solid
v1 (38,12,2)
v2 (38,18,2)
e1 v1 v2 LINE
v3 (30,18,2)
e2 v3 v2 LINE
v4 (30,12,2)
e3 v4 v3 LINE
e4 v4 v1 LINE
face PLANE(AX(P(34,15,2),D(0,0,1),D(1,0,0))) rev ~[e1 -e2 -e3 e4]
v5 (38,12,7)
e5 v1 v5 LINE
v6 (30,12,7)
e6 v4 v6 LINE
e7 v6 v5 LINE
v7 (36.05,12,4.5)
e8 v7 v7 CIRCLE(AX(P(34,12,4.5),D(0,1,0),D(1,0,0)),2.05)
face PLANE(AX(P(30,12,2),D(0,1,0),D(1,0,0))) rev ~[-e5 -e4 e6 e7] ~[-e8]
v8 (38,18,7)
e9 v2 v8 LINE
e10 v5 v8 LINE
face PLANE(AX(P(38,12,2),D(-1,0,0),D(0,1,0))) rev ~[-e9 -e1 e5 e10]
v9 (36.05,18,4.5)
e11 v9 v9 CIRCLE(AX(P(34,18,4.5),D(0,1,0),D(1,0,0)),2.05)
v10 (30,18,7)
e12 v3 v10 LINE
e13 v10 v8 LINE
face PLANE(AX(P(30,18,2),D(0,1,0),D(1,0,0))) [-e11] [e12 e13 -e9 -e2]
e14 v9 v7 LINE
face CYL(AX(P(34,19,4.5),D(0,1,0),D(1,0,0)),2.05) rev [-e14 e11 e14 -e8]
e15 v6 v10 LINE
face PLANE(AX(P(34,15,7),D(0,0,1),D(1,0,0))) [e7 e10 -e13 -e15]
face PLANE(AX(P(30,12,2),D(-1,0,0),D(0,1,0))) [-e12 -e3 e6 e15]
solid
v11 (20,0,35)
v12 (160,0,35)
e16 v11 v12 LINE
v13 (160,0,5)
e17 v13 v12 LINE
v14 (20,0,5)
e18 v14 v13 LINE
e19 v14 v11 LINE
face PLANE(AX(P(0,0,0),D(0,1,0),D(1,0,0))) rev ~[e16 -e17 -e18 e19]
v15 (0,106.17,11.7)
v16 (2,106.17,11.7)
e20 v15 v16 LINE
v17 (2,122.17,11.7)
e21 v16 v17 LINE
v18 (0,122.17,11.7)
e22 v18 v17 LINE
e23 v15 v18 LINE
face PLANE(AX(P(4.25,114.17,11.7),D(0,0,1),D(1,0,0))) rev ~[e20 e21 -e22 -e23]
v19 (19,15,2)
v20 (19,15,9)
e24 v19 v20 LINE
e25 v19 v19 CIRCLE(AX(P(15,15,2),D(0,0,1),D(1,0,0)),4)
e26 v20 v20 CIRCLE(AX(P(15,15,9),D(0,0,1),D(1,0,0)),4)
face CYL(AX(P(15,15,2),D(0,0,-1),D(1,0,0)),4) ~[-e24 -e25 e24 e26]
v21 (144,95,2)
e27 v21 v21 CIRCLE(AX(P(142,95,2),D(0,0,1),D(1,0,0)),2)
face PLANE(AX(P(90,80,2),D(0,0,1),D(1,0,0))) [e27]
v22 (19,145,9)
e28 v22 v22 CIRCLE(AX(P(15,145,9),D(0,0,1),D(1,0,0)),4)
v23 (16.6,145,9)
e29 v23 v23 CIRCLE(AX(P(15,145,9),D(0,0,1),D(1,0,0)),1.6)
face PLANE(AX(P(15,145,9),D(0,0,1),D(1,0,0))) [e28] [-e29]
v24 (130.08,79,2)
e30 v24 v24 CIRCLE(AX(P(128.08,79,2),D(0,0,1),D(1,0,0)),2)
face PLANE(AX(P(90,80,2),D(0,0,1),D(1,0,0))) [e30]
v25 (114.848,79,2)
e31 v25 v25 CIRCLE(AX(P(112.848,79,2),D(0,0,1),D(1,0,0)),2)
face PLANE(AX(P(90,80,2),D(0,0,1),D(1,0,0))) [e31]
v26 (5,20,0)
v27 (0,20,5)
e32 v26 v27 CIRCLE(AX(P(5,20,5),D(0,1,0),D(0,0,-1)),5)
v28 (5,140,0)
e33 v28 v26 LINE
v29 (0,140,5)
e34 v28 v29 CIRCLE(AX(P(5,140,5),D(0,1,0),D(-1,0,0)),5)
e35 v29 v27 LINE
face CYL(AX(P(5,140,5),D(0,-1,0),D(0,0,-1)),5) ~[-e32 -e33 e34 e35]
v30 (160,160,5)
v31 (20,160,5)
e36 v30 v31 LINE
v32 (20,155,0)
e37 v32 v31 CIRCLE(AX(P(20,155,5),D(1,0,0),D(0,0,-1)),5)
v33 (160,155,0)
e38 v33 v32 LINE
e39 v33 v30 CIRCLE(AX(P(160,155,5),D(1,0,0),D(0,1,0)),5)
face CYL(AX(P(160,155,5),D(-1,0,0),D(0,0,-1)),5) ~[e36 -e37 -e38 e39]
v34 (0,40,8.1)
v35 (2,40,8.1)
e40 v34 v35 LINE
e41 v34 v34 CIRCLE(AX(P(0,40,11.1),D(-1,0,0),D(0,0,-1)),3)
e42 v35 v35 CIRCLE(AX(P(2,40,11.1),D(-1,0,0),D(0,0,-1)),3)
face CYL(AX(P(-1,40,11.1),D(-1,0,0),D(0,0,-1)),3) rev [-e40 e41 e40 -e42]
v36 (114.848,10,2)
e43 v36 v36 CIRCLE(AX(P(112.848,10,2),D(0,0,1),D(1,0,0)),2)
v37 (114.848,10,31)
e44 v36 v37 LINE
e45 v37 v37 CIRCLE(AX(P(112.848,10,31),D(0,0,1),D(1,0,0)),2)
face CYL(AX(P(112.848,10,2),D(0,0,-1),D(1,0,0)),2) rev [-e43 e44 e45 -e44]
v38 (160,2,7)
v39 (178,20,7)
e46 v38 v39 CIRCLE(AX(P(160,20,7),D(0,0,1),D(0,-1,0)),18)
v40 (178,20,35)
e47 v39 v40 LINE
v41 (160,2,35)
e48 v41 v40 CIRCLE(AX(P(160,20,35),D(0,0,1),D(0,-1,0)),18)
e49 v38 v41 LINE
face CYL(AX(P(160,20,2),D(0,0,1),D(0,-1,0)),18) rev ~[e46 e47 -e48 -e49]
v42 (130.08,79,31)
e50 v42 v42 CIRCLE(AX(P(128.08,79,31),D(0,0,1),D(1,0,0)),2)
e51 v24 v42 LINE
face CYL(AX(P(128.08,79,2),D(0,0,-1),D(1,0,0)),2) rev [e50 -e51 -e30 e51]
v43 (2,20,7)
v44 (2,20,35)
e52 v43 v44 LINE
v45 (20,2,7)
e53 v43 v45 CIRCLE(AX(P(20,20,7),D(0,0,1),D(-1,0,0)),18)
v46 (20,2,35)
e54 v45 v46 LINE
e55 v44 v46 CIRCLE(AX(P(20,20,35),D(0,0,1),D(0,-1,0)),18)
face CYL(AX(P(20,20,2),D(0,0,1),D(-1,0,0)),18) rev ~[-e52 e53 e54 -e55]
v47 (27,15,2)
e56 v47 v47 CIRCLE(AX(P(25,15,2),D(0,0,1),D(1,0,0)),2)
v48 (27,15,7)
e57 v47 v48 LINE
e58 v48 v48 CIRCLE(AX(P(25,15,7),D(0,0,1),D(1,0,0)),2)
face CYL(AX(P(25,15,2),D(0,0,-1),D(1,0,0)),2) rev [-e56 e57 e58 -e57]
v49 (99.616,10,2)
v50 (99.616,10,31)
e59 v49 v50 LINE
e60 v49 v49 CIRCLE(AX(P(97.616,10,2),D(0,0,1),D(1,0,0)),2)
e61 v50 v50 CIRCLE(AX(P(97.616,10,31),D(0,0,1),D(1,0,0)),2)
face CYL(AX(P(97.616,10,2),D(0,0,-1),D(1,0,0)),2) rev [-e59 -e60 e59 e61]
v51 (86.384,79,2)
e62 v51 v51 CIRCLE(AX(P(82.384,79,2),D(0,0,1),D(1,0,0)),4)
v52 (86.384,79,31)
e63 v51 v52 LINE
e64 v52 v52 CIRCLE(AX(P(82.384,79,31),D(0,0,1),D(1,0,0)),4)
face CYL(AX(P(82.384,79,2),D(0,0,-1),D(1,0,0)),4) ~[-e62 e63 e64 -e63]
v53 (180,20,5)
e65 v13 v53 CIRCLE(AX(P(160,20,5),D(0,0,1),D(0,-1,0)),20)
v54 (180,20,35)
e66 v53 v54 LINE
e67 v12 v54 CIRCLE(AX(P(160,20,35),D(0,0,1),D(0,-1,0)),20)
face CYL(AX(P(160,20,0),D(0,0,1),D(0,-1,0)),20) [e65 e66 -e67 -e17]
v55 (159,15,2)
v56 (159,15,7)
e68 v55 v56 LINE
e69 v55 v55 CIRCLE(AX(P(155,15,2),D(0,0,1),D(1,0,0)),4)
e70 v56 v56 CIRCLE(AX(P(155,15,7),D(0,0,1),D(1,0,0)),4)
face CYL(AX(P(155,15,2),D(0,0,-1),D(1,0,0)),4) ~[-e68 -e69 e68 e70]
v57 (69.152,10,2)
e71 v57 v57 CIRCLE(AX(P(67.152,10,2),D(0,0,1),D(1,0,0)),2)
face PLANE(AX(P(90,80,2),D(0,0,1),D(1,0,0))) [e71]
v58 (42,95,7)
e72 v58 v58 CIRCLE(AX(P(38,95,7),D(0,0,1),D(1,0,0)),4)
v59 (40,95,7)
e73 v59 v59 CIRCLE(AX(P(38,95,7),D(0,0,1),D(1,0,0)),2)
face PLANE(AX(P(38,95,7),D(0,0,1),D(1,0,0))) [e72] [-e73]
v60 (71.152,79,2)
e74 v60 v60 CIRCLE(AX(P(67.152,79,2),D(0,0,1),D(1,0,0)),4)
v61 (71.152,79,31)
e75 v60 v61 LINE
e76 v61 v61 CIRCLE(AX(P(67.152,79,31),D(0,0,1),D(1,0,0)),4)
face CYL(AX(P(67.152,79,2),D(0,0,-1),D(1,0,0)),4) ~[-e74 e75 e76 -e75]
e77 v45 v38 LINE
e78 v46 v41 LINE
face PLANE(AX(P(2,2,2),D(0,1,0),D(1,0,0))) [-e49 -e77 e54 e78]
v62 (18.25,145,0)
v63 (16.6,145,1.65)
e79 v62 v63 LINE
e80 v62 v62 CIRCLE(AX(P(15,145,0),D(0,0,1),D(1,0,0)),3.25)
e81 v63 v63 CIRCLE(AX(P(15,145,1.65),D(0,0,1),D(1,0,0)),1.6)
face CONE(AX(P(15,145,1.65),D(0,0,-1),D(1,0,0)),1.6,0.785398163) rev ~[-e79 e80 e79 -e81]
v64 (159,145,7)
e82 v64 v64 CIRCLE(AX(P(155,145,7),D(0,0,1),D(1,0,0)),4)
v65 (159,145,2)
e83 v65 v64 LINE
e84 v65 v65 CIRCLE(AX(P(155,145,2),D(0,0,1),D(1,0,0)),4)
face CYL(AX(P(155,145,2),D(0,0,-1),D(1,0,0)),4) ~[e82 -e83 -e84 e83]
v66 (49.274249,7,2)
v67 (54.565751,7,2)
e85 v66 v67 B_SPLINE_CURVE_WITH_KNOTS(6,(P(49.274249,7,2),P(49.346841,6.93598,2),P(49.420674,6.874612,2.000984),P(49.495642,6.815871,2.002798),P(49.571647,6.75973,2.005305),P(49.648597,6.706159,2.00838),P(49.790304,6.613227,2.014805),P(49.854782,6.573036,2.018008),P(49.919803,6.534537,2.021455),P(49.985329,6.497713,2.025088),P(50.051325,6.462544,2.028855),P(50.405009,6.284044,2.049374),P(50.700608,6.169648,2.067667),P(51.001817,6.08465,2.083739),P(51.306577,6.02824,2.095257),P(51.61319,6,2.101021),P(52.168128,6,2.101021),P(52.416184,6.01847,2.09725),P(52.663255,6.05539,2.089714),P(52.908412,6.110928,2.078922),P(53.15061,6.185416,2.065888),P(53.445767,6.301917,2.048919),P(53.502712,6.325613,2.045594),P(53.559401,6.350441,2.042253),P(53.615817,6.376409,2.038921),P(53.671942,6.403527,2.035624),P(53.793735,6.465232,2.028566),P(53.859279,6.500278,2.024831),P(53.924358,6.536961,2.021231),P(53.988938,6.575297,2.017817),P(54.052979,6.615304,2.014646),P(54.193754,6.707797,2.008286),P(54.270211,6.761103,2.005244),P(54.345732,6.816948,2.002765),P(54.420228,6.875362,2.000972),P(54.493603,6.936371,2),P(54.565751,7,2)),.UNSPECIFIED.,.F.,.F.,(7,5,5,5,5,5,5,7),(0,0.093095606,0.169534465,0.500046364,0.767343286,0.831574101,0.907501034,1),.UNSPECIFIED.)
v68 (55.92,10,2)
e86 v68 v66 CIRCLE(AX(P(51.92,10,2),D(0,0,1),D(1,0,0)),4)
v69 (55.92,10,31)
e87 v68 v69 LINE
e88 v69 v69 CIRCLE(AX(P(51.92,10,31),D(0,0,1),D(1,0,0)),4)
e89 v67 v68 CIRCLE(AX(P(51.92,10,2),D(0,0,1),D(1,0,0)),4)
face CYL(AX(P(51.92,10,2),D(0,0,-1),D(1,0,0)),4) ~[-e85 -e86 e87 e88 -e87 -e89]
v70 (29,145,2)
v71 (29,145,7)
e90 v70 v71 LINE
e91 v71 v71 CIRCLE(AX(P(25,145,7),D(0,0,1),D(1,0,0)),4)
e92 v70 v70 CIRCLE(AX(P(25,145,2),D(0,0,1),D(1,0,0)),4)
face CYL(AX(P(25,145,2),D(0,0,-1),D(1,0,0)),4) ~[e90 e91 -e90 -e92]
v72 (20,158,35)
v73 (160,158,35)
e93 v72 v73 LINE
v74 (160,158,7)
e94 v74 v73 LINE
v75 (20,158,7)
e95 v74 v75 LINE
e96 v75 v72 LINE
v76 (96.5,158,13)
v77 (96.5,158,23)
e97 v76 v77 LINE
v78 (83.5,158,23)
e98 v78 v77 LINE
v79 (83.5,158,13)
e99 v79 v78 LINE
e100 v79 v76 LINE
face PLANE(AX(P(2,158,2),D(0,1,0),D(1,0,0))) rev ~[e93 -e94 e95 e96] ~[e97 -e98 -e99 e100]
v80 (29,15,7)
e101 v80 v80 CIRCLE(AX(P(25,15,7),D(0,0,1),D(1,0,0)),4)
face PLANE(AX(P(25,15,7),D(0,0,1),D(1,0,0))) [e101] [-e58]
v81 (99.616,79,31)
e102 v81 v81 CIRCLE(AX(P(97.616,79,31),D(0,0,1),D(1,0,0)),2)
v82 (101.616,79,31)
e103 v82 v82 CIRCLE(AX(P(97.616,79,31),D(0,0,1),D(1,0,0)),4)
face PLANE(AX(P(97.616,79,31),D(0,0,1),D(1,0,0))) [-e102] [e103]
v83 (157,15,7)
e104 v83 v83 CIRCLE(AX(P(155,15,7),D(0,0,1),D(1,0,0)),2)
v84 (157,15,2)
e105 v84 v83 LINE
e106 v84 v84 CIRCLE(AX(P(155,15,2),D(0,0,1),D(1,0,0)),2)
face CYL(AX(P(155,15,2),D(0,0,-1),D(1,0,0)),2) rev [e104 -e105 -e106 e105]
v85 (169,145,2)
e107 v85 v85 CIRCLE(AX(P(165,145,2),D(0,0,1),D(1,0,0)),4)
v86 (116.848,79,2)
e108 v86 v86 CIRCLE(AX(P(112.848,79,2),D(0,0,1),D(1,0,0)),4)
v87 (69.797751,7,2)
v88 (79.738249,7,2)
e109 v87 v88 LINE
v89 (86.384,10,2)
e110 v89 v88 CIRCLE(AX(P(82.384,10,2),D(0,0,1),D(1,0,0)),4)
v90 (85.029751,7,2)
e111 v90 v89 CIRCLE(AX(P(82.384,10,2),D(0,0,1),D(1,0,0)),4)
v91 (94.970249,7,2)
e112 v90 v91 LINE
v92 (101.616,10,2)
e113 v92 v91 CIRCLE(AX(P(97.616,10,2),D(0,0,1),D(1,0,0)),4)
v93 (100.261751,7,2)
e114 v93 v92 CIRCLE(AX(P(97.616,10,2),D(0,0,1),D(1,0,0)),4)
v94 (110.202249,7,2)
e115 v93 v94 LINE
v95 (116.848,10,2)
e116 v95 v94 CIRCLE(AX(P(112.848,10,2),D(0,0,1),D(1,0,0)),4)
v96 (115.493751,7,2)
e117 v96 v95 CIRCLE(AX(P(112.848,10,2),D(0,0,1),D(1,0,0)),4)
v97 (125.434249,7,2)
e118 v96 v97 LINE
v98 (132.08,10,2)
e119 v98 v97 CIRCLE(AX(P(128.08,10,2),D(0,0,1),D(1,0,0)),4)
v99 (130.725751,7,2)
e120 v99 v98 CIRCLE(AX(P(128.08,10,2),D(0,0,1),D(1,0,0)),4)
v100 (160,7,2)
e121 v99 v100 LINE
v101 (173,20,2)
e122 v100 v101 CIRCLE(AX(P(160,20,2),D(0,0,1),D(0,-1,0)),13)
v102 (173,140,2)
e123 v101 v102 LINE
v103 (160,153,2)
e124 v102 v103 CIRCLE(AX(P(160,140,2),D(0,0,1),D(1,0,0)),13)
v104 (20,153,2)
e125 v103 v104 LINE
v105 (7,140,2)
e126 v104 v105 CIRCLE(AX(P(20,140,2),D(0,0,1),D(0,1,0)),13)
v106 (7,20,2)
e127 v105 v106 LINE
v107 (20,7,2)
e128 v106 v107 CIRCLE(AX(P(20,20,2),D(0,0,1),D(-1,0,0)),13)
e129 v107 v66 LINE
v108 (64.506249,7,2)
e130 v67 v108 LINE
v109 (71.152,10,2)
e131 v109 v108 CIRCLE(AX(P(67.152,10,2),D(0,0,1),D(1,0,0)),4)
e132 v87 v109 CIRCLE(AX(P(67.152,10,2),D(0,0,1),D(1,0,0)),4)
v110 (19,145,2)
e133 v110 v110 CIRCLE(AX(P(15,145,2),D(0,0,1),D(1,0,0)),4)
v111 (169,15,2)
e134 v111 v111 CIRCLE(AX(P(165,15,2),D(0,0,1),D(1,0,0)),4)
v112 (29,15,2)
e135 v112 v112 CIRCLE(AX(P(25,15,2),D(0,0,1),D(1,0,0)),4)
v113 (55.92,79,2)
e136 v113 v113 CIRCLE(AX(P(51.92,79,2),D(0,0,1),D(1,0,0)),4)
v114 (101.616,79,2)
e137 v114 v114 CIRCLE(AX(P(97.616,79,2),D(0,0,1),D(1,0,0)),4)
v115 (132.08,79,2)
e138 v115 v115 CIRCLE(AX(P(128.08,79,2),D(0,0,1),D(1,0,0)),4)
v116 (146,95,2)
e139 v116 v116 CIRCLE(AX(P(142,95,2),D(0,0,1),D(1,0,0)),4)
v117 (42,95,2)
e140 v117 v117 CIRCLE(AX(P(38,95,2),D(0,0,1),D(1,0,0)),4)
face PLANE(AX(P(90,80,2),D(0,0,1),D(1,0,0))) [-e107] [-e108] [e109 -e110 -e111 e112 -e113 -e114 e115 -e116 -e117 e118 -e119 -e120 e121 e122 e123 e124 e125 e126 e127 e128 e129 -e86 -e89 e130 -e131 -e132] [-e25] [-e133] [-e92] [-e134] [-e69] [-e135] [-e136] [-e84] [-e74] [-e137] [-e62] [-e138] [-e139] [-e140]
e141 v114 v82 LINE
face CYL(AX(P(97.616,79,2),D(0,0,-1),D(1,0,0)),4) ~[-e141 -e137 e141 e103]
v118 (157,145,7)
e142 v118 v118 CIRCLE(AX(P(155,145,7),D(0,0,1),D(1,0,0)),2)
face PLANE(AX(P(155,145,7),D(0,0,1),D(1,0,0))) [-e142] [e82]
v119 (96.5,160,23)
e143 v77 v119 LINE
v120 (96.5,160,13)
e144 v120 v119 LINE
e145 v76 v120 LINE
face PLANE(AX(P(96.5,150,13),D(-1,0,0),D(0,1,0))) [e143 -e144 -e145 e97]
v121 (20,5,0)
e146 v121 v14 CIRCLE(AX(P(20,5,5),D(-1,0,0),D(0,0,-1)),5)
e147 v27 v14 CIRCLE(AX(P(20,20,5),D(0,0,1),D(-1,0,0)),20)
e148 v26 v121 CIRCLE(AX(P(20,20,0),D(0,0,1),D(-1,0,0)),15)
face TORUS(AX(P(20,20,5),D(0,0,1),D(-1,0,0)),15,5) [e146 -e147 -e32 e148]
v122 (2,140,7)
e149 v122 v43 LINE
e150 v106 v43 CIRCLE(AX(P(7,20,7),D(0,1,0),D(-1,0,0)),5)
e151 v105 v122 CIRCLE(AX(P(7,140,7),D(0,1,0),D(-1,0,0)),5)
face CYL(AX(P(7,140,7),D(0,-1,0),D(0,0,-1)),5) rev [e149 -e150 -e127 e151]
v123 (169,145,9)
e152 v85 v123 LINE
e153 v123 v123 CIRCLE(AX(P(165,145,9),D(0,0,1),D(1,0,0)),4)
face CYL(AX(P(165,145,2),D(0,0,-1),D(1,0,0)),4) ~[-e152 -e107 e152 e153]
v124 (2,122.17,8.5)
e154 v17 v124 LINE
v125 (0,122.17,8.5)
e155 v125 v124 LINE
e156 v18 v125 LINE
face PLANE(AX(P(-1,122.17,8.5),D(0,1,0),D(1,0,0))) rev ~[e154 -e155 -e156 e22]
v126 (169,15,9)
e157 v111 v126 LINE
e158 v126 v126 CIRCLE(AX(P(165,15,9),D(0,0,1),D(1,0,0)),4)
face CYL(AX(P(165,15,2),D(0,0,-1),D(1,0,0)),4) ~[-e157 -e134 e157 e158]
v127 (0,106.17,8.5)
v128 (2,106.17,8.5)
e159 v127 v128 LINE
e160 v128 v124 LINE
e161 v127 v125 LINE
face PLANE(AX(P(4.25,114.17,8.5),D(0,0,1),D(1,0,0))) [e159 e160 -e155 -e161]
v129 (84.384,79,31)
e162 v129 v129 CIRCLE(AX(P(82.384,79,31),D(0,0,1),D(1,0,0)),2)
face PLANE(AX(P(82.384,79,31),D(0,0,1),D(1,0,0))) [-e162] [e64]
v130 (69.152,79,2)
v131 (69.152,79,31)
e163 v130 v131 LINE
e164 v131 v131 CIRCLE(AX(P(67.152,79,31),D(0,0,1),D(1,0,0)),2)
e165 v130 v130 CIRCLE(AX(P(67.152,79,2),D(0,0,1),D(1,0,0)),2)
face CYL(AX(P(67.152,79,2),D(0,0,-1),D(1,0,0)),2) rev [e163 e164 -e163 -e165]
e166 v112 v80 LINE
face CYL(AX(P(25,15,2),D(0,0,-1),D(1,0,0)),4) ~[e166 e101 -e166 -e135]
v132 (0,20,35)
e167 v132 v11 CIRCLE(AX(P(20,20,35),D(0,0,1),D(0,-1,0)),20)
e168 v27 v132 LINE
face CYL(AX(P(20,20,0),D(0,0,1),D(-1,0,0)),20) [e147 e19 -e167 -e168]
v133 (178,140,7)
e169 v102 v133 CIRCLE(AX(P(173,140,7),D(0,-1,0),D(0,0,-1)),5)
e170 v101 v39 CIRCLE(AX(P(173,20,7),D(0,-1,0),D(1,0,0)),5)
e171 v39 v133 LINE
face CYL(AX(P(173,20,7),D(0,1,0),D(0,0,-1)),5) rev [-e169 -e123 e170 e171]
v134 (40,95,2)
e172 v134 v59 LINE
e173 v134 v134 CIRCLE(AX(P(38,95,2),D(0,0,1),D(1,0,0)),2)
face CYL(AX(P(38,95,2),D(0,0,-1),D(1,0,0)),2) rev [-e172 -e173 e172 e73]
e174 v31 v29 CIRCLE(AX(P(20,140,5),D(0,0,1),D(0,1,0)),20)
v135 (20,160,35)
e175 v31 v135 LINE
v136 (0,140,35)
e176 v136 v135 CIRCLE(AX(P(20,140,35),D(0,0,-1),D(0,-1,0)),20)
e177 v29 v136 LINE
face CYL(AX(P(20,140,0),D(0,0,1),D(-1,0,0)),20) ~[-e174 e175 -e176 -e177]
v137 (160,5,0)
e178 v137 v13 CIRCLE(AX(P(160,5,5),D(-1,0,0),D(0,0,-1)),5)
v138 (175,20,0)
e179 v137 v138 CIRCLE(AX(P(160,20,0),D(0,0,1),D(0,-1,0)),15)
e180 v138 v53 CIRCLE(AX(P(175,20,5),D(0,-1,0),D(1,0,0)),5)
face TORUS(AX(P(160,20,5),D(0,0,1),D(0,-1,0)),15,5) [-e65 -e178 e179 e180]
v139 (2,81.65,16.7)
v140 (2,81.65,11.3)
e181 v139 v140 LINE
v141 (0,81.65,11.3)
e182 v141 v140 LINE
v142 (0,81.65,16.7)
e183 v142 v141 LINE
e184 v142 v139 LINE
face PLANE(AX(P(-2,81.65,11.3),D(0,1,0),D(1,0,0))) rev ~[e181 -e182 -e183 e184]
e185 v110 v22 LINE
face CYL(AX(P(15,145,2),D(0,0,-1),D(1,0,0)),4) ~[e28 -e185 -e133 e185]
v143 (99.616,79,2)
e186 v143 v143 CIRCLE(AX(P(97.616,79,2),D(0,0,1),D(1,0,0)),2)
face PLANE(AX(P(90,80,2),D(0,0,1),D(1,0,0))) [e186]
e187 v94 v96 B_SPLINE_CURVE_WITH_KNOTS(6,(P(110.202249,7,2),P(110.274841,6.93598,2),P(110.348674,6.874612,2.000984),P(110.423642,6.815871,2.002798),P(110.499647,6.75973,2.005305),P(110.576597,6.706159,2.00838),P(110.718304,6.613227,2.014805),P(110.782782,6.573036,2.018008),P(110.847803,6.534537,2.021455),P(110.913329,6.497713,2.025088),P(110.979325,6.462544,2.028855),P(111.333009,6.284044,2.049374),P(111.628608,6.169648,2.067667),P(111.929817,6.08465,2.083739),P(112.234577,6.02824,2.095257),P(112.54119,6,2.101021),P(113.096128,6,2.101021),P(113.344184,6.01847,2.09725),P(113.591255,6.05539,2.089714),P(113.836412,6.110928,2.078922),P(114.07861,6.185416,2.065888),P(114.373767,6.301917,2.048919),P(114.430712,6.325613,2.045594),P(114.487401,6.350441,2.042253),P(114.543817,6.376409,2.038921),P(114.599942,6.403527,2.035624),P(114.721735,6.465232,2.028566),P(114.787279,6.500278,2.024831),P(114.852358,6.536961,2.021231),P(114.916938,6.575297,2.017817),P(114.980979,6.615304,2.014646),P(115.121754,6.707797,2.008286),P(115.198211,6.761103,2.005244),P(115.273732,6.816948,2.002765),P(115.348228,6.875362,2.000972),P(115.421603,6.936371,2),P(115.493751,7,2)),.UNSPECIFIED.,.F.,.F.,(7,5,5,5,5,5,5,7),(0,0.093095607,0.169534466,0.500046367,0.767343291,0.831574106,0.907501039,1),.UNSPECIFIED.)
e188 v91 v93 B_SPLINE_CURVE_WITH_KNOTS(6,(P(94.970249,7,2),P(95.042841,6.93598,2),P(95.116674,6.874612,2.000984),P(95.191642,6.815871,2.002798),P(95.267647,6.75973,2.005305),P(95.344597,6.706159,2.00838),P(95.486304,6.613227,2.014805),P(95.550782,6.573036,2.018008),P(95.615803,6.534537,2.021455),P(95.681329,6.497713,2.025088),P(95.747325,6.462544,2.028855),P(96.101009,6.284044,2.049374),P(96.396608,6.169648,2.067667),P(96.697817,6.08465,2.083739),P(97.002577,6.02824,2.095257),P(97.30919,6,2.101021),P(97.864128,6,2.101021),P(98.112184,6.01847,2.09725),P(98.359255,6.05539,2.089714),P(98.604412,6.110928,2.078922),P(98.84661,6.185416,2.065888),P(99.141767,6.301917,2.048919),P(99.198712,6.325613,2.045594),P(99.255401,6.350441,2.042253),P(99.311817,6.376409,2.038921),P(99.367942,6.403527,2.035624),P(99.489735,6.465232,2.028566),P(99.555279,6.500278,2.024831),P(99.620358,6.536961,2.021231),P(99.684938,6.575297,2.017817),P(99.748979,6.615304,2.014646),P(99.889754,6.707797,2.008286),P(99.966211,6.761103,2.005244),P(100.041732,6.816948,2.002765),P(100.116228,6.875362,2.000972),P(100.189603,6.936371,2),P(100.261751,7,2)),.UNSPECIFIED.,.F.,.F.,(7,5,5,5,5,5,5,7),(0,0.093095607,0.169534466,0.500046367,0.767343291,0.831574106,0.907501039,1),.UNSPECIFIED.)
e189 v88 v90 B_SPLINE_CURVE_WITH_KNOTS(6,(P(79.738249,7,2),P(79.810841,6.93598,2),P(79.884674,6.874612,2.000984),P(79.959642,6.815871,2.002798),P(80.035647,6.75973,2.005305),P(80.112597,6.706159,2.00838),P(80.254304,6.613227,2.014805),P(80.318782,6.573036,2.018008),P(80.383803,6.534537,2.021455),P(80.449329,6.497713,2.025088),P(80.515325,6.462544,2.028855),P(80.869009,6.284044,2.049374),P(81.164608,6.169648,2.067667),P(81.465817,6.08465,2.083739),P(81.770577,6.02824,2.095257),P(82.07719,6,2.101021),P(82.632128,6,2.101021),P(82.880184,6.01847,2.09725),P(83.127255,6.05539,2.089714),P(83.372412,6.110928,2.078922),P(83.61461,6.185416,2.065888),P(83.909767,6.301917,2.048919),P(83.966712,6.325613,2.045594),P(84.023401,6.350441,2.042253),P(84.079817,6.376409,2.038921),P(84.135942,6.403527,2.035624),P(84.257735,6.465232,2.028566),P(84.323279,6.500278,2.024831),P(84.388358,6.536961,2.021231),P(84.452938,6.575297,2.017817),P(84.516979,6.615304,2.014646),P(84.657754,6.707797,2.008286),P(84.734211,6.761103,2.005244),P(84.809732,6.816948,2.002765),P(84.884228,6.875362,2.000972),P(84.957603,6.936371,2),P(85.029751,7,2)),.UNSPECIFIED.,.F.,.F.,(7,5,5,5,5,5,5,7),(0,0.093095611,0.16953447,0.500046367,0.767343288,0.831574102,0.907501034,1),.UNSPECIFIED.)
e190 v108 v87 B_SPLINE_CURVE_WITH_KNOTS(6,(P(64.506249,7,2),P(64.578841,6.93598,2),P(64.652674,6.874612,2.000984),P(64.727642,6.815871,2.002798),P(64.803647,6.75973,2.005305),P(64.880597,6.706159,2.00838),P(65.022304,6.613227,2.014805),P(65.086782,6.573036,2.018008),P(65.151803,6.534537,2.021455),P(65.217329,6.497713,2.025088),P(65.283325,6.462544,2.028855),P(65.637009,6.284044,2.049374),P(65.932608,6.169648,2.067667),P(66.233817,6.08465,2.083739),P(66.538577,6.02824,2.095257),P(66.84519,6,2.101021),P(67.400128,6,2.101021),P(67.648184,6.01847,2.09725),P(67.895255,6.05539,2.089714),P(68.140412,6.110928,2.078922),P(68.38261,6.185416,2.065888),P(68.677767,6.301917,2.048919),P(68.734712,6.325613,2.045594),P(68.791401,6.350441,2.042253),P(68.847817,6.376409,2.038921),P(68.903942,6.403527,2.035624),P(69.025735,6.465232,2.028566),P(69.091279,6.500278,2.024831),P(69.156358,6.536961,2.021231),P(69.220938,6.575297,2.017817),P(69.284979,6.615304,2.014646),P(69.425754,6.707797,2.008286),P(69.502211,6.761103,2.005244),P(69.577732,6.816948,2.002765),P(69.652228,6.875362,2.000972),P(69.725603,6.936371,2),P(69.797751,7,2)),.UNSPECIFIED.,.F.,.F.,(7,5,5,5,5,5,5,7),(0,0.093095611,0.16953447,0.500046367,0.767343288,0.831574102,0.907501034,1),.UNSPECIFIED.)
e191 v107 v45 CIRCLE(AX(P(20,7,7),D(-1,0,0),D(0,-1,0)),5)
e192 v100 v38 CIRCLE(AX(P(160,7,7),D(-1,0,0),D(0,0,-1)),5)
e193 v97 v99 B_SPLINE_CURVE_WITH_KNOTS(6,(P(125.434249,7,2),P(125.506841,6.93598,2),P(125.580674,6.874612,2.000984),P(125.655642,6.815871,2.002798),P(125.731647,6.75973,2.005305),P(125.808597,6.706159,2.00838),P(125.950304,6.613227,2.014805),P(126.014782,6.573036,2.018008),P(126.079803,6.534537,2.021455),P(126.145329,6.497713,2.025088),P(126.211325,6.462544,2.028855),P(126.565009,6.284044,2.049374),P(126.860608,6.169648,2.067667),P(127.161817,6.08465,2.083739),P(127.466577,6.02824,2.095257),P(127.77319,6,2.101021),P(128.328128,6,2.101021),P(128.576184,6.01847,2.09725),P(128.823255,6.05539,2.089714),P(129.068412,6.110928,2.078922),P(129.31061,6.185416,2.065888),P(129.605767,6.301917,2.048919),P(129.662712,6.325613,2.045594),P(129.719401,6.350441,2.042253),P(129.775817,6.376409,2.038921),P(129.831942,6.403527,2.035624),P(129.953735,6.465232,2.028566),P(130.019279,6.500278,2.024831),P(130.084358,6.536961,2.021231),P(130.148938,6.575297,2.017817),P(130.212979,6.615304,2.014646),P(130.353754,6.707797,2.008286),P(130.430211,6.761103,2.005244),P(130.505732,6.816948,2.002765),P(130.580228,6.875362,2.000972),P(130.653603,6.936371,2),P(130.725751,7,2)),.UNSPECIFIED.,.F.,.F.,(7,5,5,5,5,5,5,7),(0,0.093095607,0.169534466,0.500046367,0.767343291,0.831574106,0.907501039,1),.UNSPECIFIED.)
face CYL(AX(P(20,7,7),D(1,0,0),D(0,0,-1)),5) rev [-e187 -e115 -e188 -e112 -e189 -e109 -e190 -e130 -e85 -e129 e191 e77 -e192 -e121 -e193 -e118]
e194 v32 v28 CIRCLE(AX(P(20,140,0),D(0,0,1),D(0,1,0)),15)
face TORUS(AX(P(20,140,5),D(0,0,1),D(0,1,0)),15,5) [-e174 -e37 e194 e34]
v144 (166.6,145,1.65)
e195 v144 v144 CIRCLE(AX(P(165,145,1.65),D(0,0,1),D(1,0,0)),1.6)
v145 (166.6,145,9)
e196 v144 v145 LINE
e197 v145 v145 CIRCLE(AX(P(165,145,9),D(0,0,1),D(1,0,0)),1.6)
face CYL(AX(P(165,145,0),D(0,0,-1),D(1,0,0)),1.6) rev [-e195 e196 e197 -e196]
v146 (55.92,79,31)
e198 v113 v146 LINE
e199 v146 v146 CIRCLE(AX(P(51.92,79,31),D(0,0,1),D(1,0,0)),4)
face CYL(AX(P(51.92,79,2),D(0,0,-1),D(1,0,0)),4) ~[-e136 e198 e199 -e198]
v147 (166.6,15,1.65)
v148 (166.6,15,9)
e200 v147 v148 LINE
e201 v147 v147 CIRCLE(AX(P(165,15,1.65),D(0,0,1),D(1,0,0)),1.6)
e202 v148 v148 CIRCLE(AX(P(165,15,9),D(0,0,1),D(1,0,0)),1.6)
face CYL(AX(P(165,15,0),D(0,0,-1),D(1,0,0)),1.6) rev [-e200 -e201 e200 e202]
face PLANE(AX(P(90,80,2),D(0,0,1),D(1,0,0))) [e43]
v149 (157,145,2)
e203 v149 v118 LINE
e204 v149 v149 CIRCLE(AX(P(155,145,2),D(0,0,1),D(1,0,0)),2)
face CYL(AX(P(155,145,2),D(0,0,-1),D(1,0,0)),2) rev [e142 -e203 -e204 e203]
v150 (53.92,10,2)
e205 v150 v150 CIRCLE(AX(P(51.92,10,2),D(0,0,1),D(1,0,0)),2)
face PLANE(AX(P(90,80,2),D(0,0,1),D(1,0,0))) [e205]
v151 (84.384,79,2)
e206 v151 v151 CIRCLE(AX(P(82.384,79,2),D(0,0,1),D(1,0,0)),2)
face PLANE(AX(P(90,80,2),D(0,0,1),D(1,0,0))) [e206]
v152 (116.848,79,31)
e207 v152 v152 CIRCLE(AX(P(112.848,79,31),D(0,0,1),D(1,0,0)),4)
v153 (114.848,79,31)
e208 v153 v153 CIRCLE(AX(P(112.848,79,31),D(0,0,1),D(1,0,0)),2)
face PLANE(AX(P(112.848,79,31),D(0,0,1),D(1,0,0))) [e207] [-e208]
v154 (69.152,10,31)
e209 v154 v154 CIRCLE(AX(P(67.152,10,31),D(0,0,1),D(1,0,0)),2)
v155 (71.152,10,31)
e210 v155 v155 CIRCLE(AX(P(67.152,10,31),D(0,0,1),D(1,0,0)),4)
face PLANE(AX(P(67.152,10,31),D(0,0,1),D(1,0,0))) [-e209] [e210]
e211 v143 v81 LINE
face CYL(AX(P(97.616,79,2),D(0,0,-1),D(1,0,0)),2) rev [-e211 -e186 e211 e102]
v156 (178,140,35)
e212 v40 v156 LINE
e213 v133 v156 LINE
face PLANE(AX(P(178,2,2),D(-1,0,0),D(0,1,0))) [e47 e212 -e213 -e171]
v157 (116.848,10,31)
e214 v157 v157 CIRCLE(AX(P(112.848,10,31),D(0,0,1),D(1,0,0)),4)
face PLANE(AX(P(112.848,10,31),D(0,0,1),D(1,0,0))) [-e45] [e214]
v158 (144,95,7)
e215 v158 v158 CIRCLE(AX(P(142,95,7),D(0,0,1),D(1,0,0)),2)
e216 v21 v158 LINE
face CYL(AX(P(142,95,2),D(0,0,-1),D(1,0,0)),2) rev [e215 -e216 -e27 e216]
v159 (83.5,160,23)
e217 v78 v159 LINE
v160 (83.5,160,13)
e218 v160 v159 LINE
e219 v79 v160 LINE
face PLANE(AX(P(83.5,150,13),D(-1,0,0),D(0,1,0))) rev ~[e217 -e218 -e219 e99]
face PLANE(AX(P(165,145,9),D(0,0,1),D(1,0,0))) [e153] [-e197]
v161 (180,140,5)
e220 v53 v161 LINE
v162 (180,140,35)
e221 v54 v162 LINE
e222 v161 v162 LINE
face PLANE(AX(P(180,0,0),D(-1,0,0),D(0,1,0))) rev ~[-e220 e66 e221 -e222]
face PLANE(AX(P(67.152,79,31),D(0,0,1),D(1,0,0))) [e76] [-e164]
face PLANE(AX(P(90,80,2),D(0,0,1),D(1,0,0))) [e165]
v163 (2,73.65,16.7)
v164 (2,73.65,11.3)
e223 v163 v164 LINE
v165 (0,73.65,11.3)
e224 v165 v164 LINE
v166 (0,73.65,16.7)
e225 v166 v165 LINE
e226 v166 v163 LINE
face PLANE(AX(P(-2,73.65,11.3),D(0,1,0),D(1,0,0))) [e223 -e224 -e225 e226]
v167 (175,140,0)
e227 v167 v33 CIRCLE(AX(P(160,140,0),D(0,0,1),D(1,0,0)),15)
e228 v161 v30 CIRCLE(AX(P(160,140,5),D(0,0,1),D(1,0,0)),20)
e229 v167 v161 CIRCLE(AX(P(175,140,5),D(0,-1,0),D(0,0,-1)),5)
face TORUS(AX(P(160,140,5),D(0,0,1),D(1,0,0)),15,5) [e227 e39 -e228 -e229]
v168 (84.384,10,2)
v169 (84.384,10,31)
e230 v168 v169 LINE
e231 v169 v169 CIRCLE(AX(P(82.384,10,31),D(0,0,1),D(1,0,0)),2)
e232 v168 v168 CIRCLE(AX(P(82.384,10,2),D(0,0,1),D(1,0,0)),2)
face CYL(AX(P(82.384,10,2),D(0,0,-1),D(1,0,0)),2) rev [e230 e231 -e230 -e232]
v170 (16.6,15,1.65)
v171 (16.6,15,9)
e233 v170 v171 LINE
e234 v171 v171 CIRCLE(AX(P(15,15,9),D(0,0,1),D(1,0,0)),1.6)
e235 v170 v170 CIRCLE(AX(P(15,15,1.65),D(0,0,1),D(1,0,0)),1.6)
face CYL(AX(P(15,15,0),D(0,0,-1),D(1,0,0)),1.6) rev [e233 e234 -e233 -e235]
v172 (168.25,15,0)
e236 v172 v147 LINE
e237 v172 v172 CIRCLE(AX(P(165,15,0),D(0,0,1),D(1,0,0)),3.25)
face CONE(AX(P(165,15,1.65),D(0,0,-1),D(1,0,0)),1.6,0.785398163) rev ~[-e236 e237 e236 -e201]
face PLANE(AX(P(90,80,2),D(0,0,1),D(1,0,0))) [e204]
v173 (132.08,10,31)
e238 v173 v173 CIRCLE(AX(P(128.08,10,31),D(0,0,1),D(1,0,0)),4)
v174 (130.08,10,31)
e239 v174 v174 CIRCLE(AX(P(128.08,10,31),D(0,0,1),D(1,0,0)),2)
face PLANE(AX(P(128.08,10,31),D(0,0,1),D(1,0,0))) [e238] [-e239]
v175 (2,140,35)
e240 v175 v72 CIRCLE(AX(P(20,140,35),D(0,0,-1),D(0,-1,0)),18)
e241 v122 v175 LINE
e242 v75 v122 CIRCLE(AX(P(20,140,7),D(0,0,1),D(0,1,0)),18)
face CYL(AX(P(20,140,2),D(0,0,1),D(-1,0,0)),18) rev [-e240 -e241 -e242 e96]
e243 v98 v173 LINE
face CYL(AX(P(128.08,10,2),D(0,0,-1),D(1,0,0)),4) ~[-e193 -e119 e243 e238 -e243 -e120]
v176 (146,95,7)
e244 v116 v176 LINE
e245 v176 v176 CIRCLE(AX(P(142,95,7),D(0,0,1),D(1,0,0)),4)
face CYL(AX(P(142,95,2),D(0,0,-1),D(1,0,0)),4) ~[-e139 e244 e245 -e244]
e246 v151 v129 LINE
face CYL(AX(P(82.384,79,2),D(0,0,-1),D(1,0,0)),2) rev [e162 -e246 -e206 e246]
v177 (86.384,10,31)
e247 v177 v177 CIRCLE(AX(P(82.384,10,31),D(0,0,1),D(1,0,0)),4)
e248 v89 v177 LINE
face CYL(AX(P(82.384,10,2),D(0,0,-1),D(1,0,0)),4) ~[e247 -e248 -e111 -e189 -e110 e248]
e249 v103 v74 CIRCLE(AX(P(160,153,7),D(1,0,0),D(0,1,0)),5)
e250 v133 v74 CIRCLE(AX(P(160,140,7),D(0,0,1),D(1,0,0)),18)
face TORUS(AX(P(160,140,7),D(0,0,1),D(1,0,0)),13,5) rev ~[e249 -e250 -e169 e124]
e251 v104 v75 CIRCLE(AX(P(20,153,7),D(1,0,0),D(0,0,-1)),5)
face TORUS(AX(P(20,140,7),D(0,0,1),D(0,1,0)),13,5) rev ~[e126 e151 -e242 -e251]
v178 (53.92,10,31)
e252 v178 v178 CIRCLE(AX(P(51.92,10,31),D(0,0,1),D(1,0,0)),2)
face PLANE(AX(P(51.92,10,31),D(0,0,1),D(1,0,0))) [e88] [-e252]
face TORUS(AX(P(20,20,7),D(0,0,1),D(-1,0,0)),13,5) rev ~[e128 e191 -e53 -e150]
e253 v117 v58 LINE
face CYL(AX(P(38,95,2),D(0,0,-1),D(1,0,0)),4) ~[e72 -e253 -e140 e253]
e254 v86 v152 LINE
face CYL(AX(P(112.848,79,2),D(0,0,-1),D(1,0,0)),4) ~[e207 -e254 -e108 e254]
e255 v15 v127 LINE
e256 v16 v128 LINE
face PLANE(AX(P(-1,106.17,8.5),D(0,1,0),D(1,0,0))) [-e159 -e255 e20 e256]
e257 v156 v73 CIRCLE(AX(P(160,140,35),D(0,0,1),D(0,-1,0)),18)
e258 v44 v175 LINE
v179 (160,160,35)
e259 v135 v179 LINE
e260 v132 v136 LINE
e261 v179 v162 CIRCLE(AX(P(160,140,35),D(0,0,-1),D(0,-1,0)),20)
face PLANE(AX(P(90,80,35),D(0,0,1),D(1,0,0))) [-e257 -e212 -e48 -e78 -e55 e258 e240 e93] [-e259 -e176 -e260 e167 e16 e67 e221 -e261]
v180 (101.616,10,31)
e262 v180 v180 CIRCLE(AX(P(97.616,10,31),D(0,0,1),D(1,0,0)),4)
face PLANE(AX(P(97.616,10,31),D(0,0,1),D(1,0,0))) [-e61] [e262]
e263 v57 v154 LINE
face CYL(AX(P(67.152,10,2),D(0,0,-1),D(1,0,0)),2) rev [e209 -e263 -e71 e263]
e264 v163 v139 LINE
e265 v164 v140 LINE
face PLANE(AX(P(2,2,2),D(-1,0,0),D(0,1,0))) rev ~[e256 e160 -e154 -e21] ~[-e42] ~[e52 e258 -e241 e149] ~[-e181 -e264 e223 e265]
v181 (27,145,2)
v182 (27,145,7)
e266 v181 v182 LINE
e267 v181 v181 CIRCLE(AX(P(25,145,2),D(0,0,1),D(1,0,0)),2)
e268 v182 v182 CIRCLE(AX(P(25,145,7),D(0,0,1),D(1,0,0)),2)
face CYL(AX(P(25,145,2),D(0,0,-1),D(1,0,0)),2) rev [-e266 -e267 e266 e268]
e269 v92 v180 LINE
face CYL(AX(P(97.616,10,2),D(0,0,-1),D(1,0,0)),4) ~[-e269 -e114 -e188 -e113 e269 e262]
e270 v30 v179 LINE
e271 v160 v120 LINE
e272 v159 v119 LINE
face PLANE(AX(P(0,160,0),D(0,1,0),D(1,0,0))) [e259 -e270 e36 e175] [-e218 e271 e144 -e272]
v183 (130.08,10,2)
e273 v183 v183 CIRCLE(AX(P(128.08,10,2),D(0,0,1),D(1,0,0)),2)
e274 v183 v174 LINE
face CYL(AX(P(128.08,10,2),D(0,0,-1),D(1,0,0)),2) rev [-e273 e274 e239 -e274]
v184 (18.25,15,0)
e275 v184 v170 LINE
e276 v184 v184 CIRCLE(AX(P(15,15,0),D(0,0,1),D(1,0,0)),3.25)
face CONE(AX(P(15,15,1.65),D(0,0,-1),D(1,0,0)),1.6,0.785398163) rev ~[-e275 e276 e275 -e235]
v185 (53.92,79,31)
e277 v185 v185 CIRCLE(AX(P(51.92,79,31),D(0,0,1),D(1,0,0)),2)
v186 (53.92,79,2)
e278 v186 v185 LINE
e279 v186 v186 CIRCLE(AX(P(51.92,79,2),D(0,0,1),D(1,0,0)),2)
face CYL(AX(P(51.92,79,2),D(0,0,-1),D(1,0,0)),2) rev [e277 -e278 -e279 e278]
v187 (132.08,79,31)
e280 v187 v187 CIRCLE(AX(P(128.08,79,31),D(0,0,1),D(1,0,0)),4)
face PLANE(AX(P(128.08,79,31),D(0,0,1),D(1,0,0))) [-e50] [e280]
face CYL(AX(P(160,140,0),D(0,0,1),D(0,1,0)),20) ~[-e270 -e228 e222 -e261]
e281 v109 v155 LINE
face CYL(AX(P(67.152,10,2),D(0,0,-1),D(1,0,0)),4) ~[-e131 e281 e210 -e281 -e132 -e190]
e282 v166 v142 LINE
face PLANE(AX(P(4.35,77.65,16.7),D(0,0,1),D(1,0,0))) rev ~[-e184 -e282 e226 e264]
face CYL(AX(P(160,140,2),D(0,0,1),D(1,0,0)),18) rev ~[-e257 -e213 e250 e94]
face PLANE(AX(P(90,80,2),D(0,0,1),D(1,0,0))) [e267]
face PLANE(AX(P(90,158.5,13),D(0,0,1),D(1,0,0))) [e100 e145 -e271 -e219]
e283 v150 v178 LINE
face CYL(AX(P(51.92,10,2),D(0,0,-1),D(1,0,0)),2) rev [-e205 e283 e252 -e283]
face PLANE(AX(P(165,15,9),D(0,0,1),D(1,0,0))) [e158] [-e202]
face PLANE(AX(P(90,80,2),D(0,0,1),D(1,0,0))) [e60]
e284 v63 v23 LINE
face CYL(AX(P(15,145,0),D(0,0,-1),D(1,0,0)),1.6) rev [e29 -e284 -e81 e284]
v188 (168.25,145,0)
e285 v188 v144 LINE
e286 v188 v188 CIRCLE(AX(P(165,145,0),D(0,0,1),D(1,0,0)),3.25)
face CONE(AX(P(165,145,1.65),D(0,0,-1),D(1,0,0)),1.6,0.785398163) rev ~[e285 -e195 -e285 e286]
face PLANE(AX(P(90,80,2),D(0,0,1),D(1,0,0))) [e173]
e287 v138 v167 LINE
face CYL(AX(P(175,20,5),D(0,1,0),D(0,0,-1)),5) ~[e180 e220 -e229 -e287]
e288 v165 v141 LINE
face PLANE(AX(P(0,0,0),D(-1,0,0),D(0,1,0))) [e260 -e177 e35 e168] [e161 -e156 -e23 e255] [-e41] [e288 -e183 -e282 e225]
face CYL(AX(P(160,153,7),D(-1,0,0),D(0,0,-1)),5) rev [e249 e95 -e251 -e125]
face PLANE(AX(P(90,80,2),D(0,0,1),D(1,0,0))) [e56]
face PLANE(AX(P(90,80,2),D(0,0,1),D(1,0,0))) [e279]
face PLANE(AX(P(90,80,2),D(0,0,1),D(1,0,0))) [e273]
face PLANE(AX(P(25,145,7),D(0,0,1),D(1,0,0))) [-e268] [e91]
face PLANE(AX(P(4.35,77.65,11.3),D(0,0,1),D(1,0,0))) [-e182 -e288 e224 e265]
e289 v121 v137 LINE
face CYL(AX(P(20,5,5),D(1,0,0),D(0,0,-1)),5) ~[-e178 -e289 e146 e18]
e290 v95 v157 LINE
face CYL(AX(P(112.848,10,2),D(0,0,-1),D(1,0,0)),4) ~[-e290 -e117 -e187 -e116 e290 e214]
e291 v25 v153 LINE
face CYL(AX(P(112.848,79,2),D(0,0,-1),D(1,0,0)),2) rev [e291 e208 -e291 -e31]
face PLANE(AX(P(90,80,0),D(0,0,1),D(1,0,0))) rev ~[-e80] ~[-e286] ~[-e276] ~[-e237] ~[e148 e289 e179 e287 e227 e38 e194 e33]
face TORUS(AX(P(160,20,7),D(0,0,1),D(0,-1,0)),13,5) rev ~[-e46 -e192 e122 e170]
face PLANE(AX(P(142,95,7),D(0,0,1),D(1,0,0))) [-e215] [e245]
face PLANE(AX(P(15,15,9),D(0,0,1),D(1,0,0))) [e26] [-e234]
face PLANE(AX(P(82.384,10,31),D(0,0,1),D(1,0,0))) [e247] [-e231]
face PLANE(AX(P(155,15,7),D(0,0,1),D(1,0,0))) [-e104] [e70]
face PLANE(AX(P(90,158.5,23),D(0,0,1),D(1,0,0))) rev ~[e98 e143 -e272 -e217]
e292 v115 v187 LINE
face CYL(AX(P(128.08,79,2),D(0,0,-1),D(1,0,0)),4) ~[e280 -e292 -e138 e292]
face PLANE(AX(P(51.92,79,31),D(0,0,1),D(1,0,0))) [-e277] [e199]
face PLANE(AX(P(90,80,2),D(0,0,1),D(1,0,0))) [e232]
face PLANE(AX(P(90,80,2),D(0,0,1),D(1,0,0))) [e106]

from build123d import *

# Parameters (mm, degrees)
CYLINDER_R              = 2.05
CYLINDER_DEPTH          = 8
CYLINDER_ROLL_ANGLE     = 90
SKETCH005_W             = 8
SKETCH005_H             = 6
PAD005_DEPTH            = 5
CYLINDER001_R           = 3
CYLINDER001_DEPTH       = 4
CYLINDER001_PITCH_ANGLE = 90
BOX002_W                = 10.5
BOX002_H                = 16
BOX002_DEPTH            = 3.2
BOX001_W                = 12.7
BOX001_H                = 8
BOX001_DEPTH            = 5.4
BOX_W                   = 13
BOX_H                   = 17
BOX_DEPTH               = 10
SKETCH003_R             = 4
SKETCH003_R_2           = 2
PAD003_DEPTH            = 5
SKETCH002_R             = 4
SKETCH002_R_2           = 1.6
PAD002_DEPTH            = 7
SKETCH001_W             = 176
SKETCH001_H             = 156
PAD001_DEPTH            = 33
FILLET002_R             = 18
FILLET003_R             = 5
SKETCH_W                = 180
SKETCH_H                = 160
SKETCH_R                = 1.6
PAD_DEPTH               = 35
FILLET_R                = 20
FILLET001_R             = 5
CHAMFER_SIZE            = 1.65
SKETCH004_R             = 4
SKETCH004_R_2           = 2
PAD004_DEPTH            = 29


with BuildPart() as zylinder:
    # Cylinder → Cylinder (new body)
    with BuildSketch(Plane.XY):
        Circle(CYLINDER_R)
    extrude(amount=CYLINDER_DEPTH)


with BuildPart() as zylinder_1:
    # Cylinder roll: moved
    add(zylinder.part.rotate(Axis((0, 0, 0), (1, 0, 0)), CYLINDER_ROLL_ANGLE))


with BuildPart() as zylinder_2:
    # Cylinder placement: moved
    add(zylinder_1.part.moved(Location((34, 19, 4.5))))


with BuildPart() as vibrationmotor:
    # Sketch005 → Pad005 (new body)
    with BuildSketch(Plane.XY.offset(2)):
        with Locations((34, 15)):
            Rectangle(SKETCH005_W, SKETCH005_H)
    extrude(amount=PAD005_DEPTH)

    # Cut002: cut Zylinder
    add(zylinder_2.part, mode=Mode.SUBTRACT)


with BuildPart() as audiojack:
    # Cylinder001 → Cylinder001 (new body)
    with BuildSketch(Plane.XY):
        Circle(CYLINDER001_R)
    extrude(amount=CYLINDER001_DEPTH)


with BuildPart() as audiojack_1:
    # Cylinder001 pitch: moved
    add(audiojack.part.rotate(Axis((0, 0, 0), (0, 1, 0)), CYLINDER001_PITCH_ANGLE))


with BuildPart() as audiojack_2:
    # Cylinder001 placement: moved
    add(audiojack_1.part.moved(Location((-1, 40, 11.1))))


with BuildPart() as sd_card:
    # Box002 → Box002 (new body)
    with BuildSketch(Plane(origin=(-1, 106.17, 8.5), x_dir=(1, 0, 0), z_dir=(0, 0, 1))):
        with Locations((5.25, 8)):
            Rectangle(BOX002_W, BOX002_H)
    extrude(amount=BOX002_DEPTH)


with BuildPart() as on_off_switch:
    # Box001 → Box001 (new body)
    with BuildSketch(Plane(origin=(-2, 73.65, 11.3), x_dir=(1, 0, 0), z_dir=(0, 0, 1))):
        with Locations((6.35, 4)):
            Rectangle(BOX001_W, BOX001_H)
    extrude(amount=BOX001_DEPTH)


with BuildPart() as usb:
    # Box → Box (new body)
    with BuildSketch(Plane(origin=(83.5, 150, 13), x_dir=(1, 0, 0), z_dir=(0, 0, 1))):
        with Locations((6.5, 8.5)):
            Rectangle(BOX_W, BOX_H)
    extrude(amount=BOX_DEPTH)


with BuildPart() as pad003:
    # Sketch003 → Pad003 (new body)
    with BuildSketch(Plane.XY.offset(2)):
        with Locations((25, 145)):
            Circle(SKETCH003_R)
        with Locations((25, 145)):
            Circle(SKETCH003_R_2, mode=Mode.SUBTRACT)
        with Locations((155, 145)):
            Circle(SKETCH003_R)
        with Locations((155, 145)):
            Circle(SKETCH003_R_2, mode=Mode.SUBTRACT)
        with Locations((38, 95)):
            Circle(SKETCH003_R)
        with Locations((38, 95)):
            Circle(SKETCH003_R_2, mode=Mode.SUBTRACT)
        with Locations((142, 95)):
            Circle(SKETCH003_R)
        with Locations((142, 95)):
            Circle(SKETCH003_R_2, mode=Mode.SUBTRACT)
        with Locations((25, 15)):
            Circle(SKETCH003_R)
        with Locations((25, 15)):
            Circle(SKETCH003_R_2, mode=Mode.SUBTRACT)
        with Locations((155, 15)):
            Circle(SKETCH003_R)
        with Locations((155, 15)):
            Circle(SKETCH003_R_2, mode=Mode.SUBTRACT)
    extrude(amount=PAD003_DEPTH)


with BuildPart() as pad002:
    # Sketch002 → Pad002 (new body)
    with BuildSketch(Plane.XY.offset(2)):
        with Locations((15, 15)):
            Circle(SKETCH002_R)
        with Locations((15, 15)):
            Circle(SKETCH002_R_2, mode=Mode.SUBTRACT)
        with Locations((165, 15)):
            Circle(SKETCH002_R)
        with Locations((165, 15)):
            Circle(SKETCH002_R_2, mode=Mode.SUBTRACT)
        with Locations((165, 145)):
            Circle(SKETCH002_R)
        with Locations((165, 145)):
            Circle(SKETCH002_R_2, mode=Mode.SUBTRACT)
        with Locations((15, 145)):
            Circle(SKETCH002_R)
        with Locations((15, 145)):
            Circle(SKETCH002_R_2, mode=Mode.SUBTRACT)
    extrude(amount=PAD002_DEPTH)


with BuildPart() as fillet003:
    # Sketch001 → Pad001 (new body)
    with BuildSketch(Plane.XY.offset(2)):
        with Locations((90, 80)):
            Rectangle(SKETCH001_W, SKETCH001_H)
    extrude(amount=PAD001_DEPTH)

    # Fillet002
    fillet002_edges = [fillet003.edges().sort_by_distance(p)[0] for p in [
        (2, 2, 18.5),
        (2, 158, 18.5),
        (178, 158, 18.5),
        (178, 2, 18.5),
    ]]
    fillet(fillet002_edges, radius=FILLET002_R)

    # Fillet003
    fillet003_edges = [fillet003.edges().sort_by_distance(p)[0] for p in [
        (7.272078, 7.272078, 2),
        (90, 2, 2),
        (2, 80, 2),
        (7.272078, 152.727922, 2),
        (90, 158, 2),
        (172.727922, 152.727922, 2),
        (178, 80, 2),
        (172.727922, 7.272078, 2),
    ]]
    fillet(fillet003_edges, radius=FILLET003_R)


with BuildPart() as chamfer_body:
    # Sketch → Pad (new body)
    with BuildSketch(Plane.XY):
        with Locations((90, 80)):
            Rectangle(SKETCH_W, SKETCH_H)
        with Locations((15, 145)):
            Circle(SKETCH_R, mode=Mode.SUBTRACT)
        with Locations((15, 15)):
            Circle(SKETCH_R, mode=Mode.SUBTRACT)
        with Locations((165, 15)):
            Circle(SKETCH_R, mode=Mode.SUBTRACT)
        with Locations((165, 145)):
            Circle(SKETCH_R, mode=Mode.SUBTRACT)
    extrude(amount=PAD_DEPTH)

    # Fillet
    fillet_edges = [chamfer_body.edges().sort_by_distance(p)[0] for p in [
        (0, 0, 17.5),
        (180, 0, 17.5),
        (180, 160, 17.5),
        (0, 160, 17.5),
    ]]
    fillet(fillet_edges, radius=FILLET_R)

    # Fillet001
    fillet001_edges = [chamfer_body.edges().sort_by_distance(p)[0] for p in [
        (90, 0, 0),
        (5.857864, 5.857864, 0),
        (0, 80, 0),
        (5.857864, 154.142136, 0),
        (90, 160, 0),
        (174.142136, 154.142136, 0),
        (180, 80, 0),
        (174.142136, 5.857864, 0),
    ]]
    fillet(fillet001_edges, radius=FILLET001_R)

    # Cut: cut Fillet003
    add(fillet003.part, mode=Mode.SUBTRACT)

    # Chamfer
    chamfer_edges = [chamfer_body.edges().sort_by_distance(p)[0] for p in [
        (13.4, 15, 0),
        (163.4, 15, 0),
        (163.4, 145, 0),
        (13.4, 145, 0),
    ]]
    chamfer(chamfer_edges, length=CHAMFER_SIZE)


with BuildPart() as cut005:
    # Sketch004 → Pad004 (new body)
    with BuildSketch(Plane.XY.offset(2)):
        with Locations((51.92, 10)):
            Circle(SKETCH004_R)
        with Locations((51.92, 10)):
            Circle(SKETCH004_R_2, mode=Mode.SUBTRACT)
        with Locations((67.152, 10)):
            Circle(SKETCH004_R)
        with Locations((67.152, 10)):
            Circle(SKETCH004_R_2, mode=Mode.SUBTRACT)
        with Locations((82.384, 10)):
            Circle(SKETCH004_R)
        with Locations((82.384, 10)):
            Circle(SKETCH004_R_2, mode=Mode.SUBTRACT)
        with Locations((97.616, 10)):
            Circle(SKETCH004_R)
        with Locations((97.616, 10)):
            Circle(SKETCH004_R_2, mode=Mode.SUBTRACT)
        with Locations((112.848, 10)):
            Circle(SKETCH004_R)
        with Locations((112.848, 10)):
            Circle(SKETCH004_R_2, mode=Mode.SUBTRACT)
        with Locations((128.08, 10)):
            Circle(SKETCH004_R)
        with Locations((128.08, 10)):
            Circle(SKETCH004_R_2, mode=Mode.SUBTRACT)
        with Locations((51.92, 79)):
            Circle(SKETCH004_R)
        with Locations((51.92, 79)):
            Circle(SKETCH004_R_2, mode=Mode.SUBTRACT)
        with Locations((67.152, 79)):
            Circle(SKETCH004_R)
        with Locations((67.152, 79)):
            Circle(SKETCH004_R_2, mode=Mode.SUBTRACT)
        with Locations((82.384, 79)):
            Circle(SKETCH004_R)
        with Locations((82.384, 79)):
            Circle(SKETCH004_R_2, mode=Mode.SUBTRACT)
        with Locations((97.616, 79)):
            Circle(SKETCH004_R)
        with Locations((97.616, 79)):
            Circle(SKETCH004_R_2, mode=Mode.SUBTRACT)
        with Locations((112.848, 79)):
            Circle(SKETCH004_R)
        with Locations((112.848, 79)):
            Circle(SKETCH004_R_2, mode=Mode.SUBTRACT)
        with Locations((128.08, 79)):
            Circle(SKETCH004_R)
        with Locations((128.08, 79)):
            Circle(SKETCH004_R_2, mode=Mode.SUBTRACT)
    extrude(amount=PAD004_DEPTH)

    # Fusion: union Pad003, Pad002, Chamfer body
    add(pad003.part)
    add(pad002.part)
    add(chamfer_body.part)

    # Cut001: cut USB
    add(usb.part, mode=Mode.SUBTRACT)

    # Cut003: cut ON_OFF_SWITCH
    add(on_off_switch.part, mode=Mode.SUBTRACT)

    # Cut004: cut SD_Card
    add(sd_card.part, mode=Mode.SUBTRACT)

    # Cut005: cut AUDIOJACK
    add(audiojack_2.part, mode=Mode.SUBTRACT)


solid = Compound([vibrationmotor.part, cut005.part])
